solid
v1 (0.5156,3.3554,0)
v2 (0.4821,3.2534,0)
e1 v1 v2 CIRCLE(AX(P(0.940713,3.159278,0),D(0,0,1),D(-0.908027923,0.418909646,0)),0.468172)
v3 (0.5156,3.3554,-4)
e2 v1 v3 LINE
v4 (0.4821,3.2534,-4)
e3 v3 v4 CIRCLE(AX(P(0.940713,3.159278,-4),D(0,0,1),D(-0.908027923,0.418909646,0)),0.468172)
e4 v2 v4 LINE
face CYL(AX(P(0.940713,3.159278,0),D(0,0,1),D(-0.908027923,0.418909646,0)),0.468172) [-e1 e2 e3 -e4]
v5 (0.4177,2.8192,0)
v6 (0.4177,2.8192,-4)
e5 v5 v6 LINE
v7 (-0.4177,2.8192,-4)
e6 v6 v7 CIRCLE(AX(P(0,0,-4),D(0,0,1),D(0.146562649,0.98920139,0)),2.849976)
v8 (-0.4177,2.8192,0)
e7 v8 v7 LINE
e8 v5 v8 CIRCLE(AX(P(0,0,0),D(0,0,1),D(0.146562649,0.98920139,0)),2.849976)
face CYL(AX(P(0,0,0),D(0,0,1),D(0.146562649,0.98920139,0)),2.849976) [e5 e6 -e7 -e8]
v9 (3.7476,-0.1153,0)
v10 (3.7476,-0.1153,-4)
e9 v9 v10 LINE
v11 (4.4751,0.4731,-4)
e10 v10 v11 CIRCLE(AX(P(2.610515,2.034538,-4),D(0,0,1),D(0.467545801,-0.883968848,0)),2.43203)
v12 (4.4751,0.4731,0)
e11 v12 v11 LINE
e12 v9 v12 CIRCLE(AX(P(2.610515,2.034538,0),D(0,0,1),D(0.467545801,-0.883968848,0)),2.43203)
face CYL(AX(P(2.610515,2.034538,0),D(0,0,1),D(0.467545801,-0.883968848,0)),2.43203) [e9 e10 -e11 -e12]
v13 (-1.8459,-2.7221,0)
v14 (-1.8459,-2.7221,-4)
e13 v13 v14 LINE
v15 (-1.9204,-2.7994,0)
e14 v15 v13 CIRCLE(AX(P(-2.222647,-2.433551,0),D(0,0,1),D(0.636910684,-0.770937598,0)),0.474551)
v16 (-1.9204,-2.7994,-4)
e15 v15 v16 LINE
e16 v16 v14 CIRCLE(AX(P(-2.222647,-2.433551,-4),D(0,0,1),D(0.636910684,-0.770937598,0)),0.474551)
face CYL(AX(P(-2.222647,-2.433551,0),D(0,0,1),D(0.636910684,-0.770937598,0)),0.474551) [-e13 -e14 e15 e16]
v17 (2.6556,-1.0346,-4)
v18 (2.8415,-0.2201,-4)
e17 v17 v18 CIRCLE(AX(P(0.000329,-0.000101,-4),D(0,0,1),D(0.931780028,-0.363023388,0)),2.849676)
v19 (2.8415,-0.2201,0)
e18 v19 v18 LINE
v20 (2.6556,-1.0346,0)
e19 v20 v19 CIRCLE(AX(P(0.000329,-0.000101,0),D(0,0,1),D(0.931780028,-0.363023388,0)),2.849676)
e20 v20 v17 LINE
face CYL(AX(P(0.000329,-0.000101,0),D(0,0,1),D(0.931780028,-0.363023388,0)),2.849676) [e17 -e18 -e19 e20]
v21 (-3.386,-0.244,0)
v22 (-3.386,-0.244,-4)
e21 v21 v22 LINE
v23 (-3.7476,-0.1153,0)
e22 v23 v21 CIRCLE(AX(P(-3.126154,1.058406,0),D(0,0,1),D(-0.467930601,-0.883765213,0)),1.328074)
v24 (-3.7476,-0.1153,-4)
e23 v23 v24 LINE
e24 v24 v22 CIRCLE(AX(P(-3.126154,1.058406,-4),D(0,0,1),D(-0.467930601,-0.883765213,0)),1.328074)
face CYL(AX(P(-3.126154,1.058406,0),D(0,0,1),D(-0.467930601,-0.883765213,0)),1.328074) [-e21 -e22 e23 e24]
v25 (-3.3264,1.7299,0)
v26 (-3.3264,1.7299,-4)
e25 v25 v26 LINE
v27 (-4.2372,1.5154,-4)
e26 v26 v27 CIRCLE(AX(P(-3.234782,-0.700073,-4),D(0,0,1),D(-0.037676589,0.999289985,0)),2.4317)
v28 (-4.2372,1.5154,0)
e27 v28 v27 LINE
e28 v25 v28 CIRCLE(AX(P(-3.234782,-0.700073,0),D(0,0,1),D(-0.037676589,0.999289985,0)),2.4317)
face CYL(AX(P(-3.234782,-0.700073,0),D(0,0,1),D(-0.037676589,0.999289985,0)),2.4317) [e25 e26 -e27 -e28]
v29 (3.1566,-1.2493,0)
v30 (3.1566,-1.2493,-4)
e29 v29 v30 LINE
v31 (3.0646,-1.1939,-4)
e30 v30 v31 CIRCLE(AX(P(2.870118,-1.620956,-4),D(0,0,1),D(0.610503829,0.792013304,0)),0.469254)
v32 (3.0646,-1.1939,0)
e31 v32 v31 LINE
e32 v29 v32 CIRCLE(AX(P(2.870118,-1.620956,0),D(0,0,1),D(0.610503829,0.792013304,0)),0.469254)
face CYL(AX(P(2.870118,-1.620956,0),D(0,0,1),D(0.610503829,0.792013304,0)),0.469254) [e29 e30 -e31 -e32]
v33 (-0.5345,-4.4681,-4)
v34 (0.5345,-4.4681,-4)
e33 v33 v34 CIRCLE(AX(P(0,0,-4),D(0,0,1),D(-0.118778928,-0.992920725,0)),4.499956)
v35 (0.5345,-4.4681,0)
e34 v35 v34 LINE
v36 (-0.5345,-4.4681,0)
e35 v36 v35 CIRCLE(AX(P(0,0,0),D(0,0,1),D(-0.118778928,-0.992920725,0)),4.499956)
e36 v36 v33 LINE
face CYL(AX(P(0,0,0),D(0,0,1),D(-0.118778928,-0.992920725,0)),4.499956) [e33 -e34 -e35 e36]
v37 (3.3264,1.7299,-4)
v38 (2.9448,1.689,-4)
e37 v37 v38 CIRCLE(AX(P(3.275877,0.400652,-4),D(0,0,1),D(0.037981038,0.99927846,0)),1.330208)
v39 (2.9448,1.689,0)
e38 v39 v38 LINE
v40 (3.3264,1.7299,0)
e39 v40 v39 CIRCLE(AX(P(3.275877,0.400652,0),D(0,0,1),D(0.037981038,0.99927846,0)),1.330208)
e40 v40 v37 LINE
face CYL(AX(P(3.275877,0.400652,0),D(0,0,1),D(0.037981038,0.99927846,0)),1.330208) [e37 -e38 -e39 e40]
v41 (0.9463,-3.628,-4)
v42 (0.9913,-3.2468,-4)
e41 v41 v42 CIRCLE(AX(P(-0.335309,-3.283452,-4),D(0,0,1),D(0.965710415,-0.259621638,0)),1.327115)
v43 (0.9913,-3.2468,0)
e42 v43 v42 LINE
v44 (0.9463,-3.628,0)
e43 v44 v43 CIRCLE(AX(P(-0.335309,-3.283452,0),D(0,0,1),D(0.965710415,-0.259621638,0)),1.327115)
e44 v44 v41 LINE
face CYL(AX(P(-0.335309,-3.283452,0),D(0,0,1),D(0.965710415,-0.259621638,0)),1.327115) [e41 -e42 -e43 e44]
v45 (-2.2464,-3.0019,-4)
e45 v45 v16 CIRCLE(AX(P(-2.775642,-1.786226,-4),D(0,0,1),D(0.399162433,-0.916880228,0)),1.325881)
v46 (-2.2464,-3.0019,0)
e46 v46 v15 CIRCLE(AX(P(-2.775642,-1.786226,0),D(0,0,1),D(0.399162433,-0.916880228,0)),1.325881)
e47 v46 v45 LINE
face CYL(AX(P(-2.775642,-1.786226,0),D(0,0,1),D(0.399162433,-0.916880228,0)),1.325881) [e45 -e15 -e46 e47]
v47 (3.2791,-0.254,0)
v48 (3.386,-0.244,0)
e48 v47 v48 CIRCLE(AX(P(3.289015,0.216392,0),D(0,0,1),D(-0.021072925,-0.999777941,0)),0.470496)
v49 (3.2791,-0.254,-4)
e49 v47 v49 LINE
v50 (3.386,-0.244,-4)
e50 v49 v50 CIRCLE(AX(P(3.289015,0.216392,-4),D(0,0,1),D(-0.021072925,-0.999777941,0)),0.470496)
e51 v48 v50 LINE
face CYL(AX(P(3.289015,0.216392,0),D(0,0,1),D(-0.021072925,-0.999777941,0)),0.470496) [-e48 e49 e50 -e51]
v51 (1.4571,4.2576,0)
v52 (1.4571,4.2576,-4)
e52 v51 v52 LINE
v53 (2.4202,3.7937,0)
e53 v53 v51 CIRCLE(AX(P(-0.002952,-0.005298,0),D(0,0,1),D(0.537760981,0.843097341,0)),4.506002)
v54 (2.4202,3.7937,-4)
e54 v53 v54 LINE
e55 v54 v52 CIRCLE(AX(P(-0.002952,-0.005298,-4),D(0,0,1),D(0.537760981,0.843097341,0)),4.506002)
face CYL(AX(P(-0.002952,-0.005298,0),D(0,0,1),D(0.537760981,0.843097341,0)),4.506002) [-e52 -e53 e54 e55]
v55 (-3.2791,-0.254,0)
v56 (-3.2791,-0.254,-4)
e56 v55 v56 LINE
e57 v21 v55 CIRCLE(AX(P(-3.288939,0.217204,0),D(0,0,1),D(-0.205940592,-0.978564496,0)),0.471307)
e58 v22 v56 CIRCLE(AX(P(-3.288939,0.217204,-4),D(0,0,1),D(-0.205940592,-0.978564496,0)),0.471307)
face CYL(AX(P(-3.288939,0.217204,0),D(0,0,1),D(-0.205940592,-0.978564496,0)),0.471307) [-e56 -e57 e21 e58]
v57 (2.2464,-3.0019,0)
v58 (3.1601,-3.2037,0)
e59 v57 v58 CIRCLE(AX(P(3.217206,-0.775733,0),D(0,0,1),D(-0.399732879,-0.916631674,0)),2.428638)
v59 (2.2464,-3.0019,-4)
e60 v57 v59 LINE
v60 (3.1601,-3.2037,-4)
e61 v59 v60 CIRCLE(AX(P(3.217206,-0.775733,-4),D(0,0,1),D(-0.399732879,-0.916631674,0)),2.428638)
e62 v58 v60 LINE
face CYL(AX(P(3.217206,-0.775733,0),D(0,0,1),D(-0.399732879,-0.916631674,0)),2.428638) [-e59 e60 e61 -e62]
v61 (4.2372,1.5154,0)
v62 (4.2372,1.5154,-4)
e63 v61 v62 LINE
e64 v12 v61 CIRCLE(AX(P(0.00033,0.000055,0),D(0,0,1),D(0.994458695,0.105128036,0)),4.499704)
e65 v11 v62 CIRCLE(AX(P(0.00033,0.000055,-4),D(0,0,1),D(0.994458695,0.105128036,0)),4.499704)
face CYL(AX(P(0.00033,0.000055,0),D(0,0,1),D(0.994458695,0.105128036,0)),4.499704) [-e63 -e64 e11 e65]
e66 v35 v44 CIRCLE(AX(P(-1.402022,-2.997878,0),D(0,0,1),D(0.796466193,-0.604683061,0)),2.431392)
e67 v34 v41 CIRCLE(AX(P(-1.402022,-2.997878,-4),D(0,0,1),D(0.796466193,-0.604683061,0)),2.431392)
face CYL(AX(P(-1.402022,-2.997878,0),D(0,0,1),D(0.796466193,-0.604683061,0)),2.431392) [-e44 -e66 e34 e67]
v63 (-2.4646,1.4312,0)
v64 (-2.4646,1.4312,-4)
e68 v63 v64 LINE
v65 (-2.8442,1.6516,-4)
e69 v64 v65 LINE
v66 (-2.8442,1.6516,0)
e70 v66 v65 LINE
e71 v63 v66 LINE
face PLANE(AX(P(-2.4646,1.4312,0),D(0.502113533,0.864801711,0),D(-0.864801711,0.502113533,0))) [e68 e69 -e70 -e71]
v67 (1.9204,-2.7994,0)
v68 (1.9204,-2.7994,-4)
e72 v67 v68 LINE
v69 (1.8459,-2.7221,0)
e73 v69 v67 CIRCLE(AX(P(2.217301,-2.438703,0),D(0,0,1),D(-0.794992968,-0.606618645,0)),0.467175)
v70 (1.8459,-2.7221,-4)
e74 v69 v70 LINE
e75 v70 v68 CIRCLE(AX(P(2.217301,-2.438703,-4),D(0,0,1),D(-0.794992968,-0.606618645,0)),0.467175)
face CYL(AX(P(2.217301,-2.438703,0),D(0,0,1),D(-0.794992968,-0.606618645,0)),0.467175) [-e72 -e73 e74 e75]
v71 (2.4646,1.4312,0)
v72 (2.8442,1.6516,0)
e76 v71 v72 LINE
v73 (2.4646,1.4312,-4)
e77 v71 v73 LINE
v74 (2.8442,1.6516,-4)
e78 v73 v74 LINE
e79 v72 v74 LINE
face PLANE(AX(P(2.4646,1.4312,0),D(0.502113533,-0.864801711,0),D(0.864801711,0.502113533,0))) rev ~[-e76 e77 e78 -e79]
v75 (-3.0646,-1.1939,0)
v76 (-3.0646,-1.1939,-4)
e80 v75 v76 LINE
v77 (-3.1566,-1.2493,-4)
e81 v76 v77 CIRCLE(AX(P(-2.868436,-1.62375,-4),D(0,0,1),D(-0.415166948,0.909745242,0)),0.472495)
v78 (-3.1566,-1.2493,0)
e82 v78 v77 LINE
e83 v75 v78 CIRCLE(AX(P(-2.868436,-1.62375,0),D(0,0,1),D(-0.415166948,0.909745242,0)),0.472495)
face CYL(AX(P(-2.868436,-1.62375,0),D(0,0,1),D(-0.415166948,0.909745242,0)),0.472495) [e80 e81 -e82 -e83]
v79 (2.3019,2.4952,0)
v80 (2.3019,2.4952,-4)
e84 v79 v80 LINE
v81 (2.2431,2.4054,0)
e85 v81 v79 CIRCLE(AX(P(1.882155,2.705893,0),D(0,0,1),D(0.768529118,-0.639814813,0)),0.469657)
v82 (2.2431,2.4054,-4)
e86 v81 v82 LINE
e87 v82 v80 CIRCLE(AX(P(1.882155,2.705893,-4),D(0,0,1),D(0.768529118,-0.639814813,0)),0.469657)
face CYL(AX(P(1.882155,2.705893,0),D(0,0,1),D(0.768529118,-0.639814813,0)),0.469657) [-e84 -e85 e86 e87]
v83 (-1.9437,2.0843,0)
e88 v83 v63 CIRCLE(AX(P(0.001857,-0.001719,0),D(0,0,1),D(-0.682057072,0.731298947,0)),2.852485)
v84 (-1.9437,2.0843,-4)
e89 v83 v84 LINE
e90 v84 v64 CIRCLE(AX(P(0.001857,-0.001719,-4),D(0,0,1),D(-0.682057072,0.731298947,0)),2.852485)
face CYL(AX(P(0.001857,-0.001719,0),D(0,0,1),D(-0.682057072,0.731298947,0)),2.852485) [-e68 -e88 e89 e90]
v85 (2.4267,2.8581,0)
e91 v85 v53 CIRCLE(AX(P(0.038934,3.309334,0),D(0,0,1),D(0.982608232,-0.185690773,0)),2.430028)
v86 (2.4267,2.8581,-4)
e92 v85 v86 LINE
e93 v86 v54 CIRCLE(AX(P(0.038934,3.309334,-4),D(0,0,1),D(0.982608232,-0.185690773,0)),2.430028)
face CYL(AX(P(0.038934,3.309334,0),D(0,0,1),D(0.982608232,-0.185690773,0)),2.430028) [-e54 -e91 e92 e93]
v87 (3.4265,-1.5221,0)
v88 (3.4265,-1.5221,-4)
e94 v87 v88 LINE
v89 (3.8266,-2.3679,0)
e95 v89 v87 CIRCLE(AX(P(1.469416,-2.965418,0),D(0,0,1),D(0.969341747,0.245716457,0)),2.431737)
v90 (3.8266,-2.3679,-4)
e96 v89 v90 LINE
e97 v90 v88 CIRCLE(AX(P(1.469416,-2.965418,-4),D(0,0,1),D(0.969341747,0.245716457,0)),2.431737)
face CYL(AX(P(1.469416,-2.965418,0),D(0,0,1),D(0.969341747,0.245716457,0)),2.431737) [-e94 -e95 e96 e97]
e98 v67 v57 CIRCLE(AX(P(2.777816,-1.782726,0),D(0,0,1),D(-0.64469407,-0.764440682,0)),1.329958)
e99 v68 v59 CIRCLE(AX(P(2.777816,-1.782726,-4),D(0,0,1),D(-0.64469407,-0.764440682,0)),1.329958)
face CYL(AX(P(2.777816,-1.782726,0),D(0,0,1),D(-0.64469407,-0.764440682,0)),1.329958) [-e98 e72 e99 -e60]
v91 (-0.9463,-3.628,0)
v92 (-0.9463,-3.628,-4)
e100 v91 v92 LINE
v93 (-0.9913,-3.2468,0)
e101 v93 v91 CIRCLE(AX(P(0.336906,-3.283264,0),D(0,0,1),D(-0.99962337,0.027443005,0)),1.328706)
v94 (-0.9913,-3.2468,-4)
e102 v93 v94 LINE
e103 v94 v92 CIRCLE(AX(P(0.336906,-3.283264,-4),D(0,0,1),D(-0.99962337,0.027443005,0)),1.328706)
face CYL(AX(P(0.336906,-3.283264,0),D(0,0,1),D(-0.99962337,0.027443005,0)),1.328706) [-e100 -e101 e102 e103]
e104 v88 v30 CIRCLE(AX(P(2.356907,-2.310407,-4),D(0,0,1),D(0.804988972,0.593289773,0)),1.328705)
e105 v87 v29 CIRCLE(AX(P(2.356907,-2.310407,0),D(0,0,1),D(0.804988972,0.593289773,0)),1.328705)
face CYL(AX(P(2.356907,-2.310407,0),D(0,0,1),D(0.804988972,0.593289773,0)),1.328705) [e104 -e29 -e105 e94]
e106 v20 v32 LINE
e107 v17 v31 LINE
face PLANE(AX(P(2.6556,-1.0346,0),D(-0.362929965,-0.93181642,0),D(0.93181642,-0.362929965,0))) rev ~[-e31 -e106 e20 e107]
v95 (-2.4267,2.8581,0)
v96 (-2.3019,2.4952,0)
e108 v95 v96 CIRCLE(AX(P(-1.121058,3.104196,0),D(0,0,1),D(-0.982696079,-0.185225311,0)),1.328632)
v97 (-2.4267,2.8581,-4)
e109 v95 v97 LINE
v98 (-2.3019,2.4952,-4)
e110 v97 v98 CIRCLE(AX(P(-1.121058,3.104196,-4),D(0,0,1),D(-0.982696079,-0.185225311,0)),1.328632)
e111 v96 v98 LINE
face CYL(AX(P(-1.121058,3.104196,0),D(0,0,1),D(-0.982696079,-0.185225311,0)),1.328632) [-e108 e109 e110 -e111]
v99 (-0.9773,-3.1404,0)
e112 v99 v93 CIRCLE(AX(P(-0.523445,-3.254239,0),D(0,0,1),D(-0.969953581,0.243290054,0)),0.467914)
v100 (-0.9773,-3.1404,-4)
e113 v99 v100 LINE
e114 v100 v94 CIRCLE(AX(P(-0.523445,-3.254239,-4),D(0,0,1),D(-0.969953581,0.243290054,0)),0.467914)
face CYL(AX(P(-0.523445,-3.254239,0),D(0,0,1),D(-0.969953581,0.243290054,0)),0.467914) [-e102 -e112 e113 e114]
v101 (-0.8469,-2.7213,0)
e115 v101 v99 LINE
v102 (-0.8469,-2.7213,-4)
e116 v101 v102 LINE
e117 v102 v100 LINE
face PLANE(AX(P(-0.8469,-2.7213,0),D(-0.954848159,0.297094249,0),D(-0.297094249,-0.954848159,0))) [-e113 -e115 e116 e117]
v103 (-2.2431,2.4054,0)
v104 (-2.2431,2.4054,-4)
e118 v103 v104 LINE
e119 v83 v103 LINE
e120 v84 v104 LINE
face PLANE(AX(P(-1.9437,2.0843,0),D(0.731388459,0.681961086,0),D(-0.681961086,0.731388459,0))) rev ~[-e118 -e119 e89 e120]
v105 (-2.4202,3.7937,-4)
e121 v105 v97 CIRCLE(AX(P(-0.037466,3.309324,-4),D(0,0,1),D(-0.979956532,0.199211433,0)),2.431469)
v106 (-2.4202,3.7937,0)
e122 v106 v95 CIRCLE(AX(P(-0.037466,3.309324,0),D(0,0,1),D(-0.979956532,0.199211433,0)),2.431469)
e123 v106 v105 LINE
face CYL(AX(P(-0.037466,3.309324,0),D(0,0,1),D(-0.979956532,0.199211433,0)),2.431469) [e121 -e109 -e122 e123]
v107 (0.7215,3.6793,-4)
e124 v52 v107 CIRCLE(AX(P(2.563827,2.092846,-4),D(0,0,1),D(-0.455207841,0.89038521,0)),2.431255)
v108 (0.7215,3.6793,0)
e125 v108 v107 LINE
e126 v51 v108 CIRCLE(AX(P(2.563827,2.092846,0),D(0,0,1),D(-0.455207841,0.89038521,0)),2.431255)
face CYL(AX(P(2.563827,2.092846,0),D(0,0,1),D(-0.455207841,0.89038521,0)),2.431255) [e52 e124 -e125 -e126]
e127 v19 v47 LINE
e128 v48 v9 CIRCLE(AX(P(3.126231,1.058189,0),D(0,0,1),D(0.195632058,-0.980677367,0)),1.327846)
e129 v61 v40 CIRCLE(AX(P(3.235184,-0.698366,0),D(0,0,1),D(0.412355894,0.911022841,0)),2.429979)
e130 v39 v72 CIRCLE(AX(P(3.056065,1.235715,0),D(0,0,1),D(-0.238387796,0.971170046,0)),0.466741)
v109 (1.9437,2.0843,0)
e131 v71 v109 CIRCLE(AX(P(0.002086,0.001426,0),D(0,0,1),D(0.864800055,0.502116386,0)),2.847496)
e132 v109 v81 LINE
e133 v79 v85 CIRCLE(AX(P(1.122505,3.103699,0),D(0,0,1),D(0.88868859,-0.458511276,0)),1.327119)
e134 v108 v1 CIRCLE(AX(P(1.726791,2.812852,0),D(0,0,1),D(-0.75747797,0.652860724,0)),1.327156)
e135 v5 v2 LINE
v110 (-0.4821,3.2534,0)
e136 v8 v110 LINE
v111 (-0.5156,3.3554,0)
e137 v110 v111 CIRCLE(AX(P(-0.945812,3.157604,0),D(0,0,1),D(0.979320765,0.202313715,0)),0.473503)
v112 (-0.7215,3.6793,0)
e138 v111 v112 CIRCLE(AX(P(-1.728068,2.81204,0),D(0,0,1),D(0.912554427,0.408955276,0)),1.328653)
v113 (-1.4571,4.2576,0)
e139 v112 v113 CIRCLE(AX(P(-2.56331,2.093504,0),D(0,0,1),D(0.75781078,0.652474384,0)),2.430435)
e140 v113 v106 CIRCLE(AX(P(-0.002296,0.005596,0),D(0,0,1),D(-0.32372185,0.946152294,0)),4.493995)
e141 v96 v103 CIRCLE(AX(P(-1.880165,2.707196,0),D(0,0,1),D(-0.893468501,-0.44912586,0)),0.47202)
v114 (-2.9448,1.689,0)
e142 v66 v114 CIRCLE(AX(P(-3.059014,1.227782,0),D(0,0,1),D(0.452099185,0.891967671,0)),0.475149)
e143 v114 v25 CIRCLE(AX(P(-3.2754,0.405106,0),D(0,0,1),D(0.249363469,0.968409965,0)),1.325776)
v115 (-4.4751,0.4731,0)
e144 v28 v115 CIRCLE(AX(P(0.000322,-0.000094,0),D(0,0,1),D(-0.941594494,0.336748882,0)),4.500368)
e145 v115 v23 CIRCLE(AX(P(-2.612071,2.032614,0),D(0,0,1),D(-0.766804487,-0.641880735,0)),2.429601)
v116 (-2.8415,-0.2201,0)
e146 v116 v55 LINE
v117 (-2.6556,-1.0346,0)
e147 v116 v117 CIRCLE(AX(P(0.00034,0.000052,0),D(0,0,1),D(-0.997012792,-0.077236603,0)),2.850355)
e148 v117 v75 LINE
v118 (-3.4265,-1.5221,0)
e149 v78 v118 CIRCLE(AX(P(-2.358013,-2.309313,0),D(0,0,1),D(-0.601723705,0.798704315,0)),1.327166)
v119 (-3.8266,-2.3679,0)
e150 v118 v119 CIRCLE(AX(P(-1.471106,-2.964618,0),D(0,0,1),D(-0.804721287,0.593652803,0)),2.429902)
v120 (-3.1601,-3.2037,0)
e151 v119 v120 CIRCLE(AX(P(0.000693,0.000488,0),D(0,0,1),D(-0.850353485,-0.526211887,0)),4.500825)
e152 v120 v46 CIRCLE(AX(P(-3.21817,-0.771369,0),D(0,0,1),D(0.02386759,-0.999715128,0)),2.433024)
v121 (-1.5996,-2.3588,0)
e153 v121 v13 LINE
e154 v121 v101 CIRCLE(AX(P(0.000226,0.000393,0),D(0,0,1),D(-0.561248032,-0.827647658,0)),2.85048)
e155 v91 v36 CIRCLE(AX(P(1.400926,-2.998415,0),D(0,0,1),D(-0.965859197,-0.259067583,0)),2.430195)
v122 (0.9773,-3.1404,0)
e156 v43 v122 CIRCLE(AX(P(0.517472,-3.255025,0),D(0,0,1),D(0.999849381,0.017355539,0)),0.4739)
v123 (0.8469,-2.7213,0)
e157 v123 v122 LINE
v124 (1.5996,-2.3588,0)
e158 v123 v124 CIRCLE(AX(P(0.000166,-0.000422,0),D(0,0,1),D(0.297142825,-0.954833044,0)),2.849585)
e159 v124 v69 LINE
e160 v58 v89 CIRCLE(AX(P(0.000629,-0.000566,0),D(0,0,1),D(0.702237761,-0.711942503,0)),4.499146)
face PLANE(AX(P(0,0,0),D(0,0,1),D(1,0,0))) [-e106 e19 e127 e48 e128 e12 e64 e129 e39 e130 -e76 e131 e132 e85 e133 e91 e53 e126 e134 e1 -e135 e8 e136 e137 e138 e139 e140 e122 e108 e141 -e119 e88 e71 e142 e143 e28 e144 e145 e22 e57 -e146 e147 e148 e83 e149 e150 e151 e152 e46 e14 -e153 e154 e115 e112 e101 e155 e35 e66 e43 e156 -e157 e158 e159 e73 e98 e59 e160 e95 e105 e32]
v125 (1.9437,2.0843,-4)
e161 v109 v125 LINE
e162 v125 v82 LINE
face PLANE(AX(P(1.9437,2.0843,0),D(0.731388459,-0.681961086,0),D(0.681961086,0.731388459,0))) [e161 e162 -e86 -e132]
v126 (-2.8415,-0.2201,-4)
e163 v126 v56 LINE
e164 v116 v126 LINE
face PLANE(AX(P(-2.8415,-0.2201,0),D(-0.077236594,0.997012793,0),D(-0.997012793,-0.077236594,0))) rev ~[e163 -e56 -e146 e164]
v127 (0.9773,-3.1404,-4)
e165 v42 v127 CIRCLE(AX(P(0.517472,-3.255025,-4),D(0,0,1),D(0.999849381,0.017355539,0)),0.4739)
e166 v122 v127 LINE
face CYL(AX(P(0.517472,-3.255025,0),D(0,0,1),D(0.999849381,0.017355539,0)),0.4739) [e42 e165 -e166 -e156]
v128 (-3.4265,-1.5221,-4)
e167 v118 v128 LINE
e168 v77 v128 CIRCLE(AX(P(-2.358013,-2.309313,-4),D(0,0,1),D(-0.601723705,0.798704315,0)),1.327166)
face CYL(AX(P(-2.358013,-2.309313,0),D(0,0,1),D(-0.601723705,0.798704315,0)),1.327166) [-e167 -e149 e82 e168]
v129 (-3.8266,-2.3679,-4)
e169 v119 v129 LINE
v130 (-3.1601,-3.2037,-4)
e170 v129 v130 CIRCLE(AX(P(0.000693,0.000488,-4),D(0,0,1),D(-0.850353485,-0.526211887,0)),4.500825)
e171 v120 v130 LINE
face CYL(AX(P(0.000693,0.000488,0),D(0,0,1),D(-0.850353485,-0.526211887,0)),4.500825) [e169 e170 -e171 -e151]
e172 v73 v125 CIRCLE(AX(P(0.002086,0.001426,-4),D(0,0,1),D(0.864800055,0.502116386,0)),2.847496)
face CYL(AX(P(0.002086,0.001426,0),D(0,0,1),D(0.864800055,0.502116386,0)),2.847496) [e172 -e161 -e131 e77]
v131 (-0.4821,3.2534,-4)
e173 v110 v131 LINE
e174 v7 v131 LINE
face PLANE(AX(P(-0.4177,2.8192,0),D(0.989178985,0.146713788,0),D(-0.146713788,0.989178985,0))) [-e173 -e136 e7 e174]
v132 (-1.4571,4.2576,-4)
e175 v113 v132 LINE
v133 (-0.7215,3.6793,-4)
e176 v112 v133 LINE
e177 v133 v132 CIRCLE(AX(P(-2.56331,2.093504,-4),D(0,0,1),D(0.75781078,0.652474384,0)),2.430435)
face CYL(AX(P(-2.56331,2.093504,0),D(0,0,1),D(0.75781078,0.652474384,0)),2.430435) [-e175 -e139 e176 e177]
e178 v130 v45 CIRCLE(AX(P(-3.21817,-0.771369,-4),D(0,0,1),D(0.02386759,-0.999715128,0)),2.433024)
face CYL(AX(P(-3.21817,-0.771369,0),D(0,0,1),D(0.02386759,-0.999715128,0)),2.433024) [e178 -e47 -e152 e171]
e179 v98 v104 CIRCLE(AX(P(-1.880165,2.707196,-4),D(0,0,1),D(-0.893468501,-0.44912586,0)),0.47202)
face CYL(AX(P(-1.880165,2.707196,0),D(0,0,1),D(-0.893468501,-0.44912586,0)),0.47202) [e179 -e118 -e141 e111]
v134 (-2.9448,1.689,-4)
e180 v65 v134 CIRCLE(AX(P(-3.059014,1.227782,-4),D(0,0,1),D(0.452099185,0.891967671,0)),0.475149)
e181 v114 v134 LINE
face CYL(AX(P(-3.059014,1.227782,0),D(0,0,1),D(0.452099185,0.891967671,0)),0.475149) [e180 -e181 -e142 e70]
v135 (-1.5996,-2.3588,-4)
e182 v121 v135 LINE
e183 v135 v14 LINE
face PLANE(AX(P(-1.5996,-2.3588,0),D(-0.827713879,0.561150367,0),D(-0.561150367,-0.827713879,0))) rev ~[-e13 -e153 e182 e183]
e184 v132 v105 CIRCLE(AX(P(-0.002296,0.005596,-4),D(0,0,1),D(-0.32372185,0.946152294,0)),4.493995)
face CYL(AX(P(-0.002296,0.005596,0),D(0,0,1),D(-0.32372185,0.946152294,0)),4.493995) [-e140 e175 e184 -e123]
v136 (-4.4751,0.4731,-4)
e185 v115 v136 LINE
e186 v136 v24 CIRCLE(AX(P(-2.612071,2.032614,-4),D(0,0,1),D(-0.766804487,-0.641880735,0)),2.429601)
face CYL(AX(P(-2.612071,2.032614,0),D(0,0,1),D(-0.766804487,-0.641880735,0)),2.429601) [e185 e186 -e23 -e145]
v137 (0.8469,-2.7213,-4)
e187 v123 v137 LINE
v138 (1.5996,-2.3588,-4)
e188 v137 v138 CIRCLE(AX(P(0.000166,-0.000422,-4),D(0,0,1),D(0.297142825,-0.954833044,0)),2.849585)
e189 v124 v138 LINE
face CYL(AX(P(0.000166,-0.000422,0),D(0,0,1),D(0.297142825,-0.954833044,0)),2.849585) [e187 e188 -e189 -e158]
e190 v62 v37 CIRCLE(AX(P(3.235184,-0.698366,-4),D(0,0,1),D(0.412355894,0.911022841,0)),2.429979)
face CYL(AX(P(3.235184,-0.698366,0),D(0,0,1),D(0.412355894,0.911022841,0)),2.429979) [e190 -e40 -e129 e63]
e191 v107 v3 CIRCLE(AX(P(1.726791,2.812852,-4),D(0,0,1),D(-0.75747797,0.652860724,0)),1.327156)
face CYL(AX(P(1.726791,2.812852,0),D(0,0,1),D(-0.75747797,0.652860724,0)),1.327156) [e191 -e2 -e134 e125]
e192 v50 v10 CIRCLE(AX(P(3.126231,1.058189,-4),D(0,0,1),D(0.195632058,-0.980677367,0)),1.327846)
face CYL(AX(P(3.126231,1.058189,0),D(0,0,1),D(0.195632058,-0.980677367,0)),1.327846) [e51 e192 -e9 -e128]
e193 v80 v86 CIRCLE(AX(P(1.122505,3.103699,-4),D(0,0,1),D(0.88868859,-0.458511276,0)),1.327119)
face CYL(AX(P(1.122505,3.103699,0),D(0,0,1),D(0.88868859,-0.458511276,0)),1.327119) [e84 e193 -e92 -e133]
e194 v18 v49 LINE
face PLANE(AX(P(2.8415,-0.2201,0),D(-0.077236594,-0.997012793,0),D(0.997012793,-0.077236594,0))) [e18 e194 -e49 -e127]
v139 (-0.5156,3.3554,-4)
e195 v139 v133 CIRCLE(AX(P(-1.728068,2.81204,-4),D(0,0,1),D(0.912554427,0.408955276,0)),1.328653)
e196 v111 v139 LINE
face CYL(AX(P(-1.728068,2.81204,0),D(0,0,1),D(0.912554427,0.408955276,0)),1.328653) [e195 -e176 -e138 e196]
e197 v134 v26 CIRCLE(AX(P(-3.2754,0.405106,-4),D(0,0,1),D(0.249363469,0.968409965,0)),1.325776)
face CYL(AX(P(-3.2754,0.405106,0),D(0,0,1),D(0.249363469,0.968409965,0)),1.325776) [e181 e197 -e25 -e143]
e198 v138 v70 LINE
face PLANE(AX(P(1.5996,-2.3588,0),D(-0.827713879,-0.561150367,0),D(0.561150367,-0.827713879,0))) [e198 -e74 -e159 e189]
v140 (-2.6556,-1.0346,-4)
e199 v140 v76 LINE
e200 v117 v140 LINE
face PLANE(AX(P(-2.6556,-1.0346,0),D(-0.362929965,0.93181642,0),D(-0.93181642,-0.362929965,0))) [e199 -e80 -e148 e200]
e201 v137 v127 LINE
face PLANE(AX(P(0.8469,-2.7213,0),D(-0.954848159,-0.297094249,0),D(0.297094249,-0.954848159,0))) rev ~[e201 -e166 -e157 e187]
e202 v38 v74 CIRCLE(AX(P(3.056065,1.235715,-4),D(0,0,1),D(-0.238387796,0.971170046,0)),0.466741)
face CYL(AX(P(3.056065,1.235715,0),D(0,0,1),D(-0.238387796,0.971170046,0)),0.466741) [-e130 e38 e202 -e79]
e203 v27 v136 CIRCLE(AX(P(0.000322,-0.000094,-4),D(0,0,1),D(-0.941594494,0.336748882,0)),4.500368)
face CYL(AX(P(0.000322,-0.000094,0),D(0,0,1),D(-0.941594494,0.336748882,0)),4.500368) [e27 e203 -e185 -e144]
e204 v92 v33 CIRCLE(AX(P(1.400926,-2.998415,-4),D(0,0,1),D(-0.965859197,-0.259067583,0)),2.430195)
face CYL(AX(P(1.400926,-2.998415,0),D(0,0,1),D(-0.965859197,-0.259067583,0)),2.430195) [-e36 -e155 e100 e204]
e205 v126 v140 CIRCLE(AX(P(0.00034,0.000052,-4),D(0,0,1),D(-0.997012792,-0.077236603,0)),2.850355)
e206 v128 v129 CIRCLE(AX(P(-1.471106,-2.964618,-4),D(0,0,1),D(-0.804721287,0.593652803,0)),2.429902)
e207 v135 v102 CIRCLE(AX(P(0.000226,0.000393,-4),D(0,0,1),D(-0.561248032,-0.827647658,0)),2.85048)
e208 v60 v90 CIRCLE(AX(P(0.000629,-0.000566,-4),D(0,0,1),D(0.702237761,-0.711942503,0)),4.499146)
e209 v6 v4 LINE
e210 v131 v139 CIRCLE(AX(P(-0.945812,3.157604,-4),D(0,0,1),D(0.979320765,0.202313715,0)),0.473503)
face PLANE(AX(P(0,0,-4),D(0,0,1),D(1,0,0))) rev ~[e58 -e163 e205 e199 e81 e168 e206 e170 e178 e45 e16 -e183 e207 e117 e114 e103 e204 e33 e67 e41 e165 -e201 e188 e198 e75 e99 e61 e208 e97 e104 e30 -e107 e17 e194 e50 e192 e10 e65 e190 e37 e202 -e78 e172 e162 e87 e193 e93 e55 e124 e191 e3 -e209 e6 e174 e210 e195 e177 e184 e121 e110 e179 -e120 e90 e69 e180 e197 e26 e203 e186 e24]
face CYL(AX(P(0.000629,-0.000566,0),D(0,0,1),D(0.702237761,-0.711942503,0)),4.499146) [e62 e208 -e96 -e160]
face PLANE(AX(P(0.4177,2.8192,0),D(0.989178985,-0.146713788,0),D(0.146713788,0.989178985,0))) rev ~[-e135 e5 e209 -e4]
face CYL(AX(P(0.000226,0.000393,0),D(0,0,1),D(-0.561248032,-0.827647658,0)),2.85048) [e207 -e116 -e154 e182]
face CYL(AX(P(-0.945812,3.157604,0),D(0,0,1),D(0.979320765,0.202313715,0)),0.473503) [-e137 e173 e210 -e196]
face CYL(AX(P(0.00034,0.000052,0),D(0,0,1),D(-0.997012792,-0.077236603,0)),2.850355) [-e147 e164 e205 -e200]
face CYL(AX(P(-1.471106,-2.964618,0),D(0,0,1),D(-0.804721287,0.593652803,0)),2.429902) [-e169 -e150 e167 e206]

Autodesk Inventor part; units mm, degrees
ref_plane "YZ Plane" through (0, 0, 0) normal (1, 0, 0) x (0, 1, 0)
ref_plane "XZ Plane" through (0, 0, 0) normal (0, 1, 0) x (-1, 0, 0)
ref_plane "XY Plane" through (0, 0, 0) normal (0, 0, 1) x (1, 0, 0)
sketch "Sketch1" plane through (0, 0, 0) normal (0, 0, 1) x (1, 0, 0)
  arc A0 (0.5156, 3.3554) -> (0.4821, 3.2534) centre (0.9432, 3.1583) ccw
  arc A1 (0.7215, 3.6793) -> (0.5156, 3.3554) centre (1.7274, 2.8124) ccw
  arc A2 (1.4571, 4.2576) -> (0.7215, 3.6793) centre (2.5636, 2.0932) ccw
  arc A3 (-2.3019, 2.4952) -> (-2.2431, 2.4054) centre (-1.8812, 2.7066) ccw
  arc A4 (-2.4267, 2.8581) -> (-2.3019, 2.4952) centre (-1.1218, 3.104) ccw
  arc A5 (-2.4202, 3.7937) -> (-2.4267, 2.8581) centre (-0.0382, 3.3094) ccw
  arc A6 (-3.386, -0.244) -> (-3.2791, -0.254) centre (-3.289, 0.2168) ccw
  arc A7 (-3.7476, -0.1153) -> (-3.386, -0.244) centre (-3.1262, 1.0583) ccw
  arc A8 (-4.4751, 0.4731) -> (-3.7476, -0.1153) centre (-2.6112, 2.0335) ccw
  arc A9 (-1.9204, -2.7994) -> (-1.8459, -2.7221) centre (-2.2201, -2.4363) ccw
  arc A10 (-2.2464, -3.0019) -> (-1.9204, -2.7994) centre (-2.7766, -1.7844) ccw
  arc A11 (-3.1601, -3.2037) -> (-2.2464, -3.0019) centre (-3.2179, -0.7736) ccw
  arc A12 (0.9913, -3.2468) -> (0.9773, -3.1404) centre (0.5205, -3.2548) ccw
  arc A13 (0.9463, -3.628) -> (0.9913, -3.2468) centre (-0.3361, -3.2833) ccw
  arc A14 (0.5345, -4.4681) -> (0.9463, -3.628) centre (-1.4015, -2.9982) ccw
  arc A15 (3.1566, -1.2493) -> (3.0646, -1.1939) centre (2.8692, -1.6223) ccw
  arc A16 (3.4265, -1.5221) -> (3.1566, -1.2493) centre (2.3575, -2.3099) ccw
  arc A17 (3.8266, -2.3679) -> (3.4265, -1.5221) centre (1.4703, -2.9651) ccw
  arc A18 (2.9448, 1.689) -> (2.8442, 1.6516) centre (3.0573, 1.2317) ccw
  arc A19 (3.3264, 1.7299) -> (2.9448, 1.689) centre (3.2758, 0.4029) ccw
  arc A20 (4.2372, 1.5154) -> (3.3264, 1.7299) centre (3.2349, -0.6992) ccw
  arc A21 (-0.4821, 3.2534) -> (-0.5156, 3.3554) centre (-0.9432, 3.1583) ccw
  arc A22 (-0.5156, 3.3554) -> (-0.7215, 3.6793) centre (-1.7274, 2.8124) ccw
  arc A23 (-0.7215, 3.6793) -> (-1.4571, 4.2576) centre (-2.5636, 2.0932) ccw
  arc A24 (-2.8442, 1.6516) -> (-2.9448, 1.689) centre (-3.0573, 1.2317) ccw
  arc A25 (-2.9448, 1.689) -> (-3.3264, 1.7299) centre (-3.2758, 0.4029) ccw
  arc A26 (-3.3264, 1.7299) -> (-4.2372, 1.5154) centre (-3.2349, -0.6992) ccw
  arc A27 (-3.0646, -1.1939) -> (-3.1566, -1.2493) centre (-2.8692, -1.6223) ccw
  arc A28 (-3.1566, -1.2493) -> (-3.4265, -1.5221) centre (-2.3575, -2.3099) ccw
  arc A29 (-3.4265, -1.5221) -> (-3.8266, -2.3679) centre (-1.4703, -2.9651) ccw
  arc A30 (-0.9773, -3.1404) -> (-0.9913, -3.2468) centre (-0.5205, -3.2548) ccw
  arc A31 (-0.9913, -3.2468) -> (-0.9463, -3.628) centre (0.3361, -3.2833) ccw
  arc A32 (-0.9463, -3.628) -> (-0.5345, -4.4681) centre (1.4015, -2.9982) ccw
  arc A33 (1.8459, -2.7221) -> (1.9204, -2.7994) centre (2.2201, -2.4363) ccw
  arc A34 (1.9204, -2.7994) -> (2.2464, -3.0019) centre (2.7766, -1.7844) ccw
  arc A35 (2.2464, -3.0019) -> (3.1601, -3.2037) centre (3.2179, -0.7736) ccw
  arc A36 (3.2791, -0.254) -> (3.386, -0.244) centre (3.289, 0.2168) ccw
  arc A37 (3.386, -0.244) -> (3.7476, -0.1153) centre (3.1262, 1.0583) ccw
  arc A38 (3.7476, -0.1153) -> (4.4751, 0.4731) centre (2.6112, 2.0335) ccw
  arc A39 (2.2431, 2.4054) -> (2.3019, 2.4952) centre (1.8812, 2.7066) ccw
  arc A40 (2.3019, 2.4952) -> (2.4267, 2.8581) centre (1.1218, 3.104) ccw
  arc A41 (2.4267, 2.8581) -> (2.4202, 3.7937) centre (0.0382, 3.3094) ccw
  arc A42 (0.4177, 2.8192) -> (-0.4177, 2.8192) centre (0, 0) ccw
  arc A43 (-1.9437, 2.0843) -> (-2.4646, 1.4312) centre (0, 0) ccw
  arc A44 (-2.8415, -0.2201) -> (-2.6556, -1.0346) centre (0, 0) ccw
  arc A45 (-1.5996, -2.3588) -> (-0.8469, -2.7213) centre (0, 0) ccw
  arc A46 (0.8469, -2.7213) -> (1.5996, -2.3588) centre (0, 0) ccw
  arc A47 (2.6556, -1.0346) -> (2.8415, -0.2201) centre (0, 0) ccw
  arc A48 (2.4646, 1.4312) -> (1.9437, 2.0843) centre (0, 0) ccw
  arc A49 (-1.4571, 4.2576) -> (-2.4202, 3.7937) centre (0, 0) ccw
  arc A50 (-4.2372, 1.5154) -> (-4.4751, 0.4731) centre (0, 0) ccw
  arc A51 (-3.8266, -2.3679) -> (-3.1601, -3.2037) centre (0, 0) ccw
  arc A52 (-0.5345, -4.4681) -> (0.5345, -4.4681) centre (0, 0) ccw
  arc A53 (3.1601, -3.2037) -> (3.8266, -2.3679) centre (0, 0) ccw
  arc A54 (4.4751, 0.4731) -> (4.2372, 1.5154) centre (0, 0) ccw
  arc A55 (2.4202, 3.7937) -> (1.4571, 4.2576) centre (0, 0) ccw
  line L0 (0.4177, 2.8192) -> (0.4821, 3.2534)
  line L1 (-1.9437, 2.0843) -> (-2.2431, 2.4054)
  line L2 (-2.8415, -0.2201) -> (-3.2791, -0.254)
  line L3 (-1.5996, -2.3588) -> (-1.8459, -2.7221)
  line L4 (0.8469, -2.7213) -> (0.9773, -3.1404)
  line L5 (2.6556, -1.0346) -> (3.0646, -1.1939)
  line L6 (2.4646, 1.4312) -> (2.8442, 1.6516)
  line L7 (-0.4177, 2.8192) -> (-0.4821, 3.2534)
  line L8 (-2.4646, 1.4312) -> (-2.8442, 1.6516)
  line L9 (-2.6556, -1.0346) -> (-3.0646, -1.1939)
  line L10 (-0.8469, -2.7213) -> (-0.9773, -3.1404)
  line L11 (1.5996, -2.3588) -> (1.8459, -2.7221)
  line L12 (2.8415, -0.2201) -> (3.2791, -0.254)
  line L13 (1.9437, 2.0843) -> (2.2431, 2.4054)
extrude "Extrusion1" add sketch "Sketch1" against normal blind 4
properties part number "初段多段部分歯数7"
